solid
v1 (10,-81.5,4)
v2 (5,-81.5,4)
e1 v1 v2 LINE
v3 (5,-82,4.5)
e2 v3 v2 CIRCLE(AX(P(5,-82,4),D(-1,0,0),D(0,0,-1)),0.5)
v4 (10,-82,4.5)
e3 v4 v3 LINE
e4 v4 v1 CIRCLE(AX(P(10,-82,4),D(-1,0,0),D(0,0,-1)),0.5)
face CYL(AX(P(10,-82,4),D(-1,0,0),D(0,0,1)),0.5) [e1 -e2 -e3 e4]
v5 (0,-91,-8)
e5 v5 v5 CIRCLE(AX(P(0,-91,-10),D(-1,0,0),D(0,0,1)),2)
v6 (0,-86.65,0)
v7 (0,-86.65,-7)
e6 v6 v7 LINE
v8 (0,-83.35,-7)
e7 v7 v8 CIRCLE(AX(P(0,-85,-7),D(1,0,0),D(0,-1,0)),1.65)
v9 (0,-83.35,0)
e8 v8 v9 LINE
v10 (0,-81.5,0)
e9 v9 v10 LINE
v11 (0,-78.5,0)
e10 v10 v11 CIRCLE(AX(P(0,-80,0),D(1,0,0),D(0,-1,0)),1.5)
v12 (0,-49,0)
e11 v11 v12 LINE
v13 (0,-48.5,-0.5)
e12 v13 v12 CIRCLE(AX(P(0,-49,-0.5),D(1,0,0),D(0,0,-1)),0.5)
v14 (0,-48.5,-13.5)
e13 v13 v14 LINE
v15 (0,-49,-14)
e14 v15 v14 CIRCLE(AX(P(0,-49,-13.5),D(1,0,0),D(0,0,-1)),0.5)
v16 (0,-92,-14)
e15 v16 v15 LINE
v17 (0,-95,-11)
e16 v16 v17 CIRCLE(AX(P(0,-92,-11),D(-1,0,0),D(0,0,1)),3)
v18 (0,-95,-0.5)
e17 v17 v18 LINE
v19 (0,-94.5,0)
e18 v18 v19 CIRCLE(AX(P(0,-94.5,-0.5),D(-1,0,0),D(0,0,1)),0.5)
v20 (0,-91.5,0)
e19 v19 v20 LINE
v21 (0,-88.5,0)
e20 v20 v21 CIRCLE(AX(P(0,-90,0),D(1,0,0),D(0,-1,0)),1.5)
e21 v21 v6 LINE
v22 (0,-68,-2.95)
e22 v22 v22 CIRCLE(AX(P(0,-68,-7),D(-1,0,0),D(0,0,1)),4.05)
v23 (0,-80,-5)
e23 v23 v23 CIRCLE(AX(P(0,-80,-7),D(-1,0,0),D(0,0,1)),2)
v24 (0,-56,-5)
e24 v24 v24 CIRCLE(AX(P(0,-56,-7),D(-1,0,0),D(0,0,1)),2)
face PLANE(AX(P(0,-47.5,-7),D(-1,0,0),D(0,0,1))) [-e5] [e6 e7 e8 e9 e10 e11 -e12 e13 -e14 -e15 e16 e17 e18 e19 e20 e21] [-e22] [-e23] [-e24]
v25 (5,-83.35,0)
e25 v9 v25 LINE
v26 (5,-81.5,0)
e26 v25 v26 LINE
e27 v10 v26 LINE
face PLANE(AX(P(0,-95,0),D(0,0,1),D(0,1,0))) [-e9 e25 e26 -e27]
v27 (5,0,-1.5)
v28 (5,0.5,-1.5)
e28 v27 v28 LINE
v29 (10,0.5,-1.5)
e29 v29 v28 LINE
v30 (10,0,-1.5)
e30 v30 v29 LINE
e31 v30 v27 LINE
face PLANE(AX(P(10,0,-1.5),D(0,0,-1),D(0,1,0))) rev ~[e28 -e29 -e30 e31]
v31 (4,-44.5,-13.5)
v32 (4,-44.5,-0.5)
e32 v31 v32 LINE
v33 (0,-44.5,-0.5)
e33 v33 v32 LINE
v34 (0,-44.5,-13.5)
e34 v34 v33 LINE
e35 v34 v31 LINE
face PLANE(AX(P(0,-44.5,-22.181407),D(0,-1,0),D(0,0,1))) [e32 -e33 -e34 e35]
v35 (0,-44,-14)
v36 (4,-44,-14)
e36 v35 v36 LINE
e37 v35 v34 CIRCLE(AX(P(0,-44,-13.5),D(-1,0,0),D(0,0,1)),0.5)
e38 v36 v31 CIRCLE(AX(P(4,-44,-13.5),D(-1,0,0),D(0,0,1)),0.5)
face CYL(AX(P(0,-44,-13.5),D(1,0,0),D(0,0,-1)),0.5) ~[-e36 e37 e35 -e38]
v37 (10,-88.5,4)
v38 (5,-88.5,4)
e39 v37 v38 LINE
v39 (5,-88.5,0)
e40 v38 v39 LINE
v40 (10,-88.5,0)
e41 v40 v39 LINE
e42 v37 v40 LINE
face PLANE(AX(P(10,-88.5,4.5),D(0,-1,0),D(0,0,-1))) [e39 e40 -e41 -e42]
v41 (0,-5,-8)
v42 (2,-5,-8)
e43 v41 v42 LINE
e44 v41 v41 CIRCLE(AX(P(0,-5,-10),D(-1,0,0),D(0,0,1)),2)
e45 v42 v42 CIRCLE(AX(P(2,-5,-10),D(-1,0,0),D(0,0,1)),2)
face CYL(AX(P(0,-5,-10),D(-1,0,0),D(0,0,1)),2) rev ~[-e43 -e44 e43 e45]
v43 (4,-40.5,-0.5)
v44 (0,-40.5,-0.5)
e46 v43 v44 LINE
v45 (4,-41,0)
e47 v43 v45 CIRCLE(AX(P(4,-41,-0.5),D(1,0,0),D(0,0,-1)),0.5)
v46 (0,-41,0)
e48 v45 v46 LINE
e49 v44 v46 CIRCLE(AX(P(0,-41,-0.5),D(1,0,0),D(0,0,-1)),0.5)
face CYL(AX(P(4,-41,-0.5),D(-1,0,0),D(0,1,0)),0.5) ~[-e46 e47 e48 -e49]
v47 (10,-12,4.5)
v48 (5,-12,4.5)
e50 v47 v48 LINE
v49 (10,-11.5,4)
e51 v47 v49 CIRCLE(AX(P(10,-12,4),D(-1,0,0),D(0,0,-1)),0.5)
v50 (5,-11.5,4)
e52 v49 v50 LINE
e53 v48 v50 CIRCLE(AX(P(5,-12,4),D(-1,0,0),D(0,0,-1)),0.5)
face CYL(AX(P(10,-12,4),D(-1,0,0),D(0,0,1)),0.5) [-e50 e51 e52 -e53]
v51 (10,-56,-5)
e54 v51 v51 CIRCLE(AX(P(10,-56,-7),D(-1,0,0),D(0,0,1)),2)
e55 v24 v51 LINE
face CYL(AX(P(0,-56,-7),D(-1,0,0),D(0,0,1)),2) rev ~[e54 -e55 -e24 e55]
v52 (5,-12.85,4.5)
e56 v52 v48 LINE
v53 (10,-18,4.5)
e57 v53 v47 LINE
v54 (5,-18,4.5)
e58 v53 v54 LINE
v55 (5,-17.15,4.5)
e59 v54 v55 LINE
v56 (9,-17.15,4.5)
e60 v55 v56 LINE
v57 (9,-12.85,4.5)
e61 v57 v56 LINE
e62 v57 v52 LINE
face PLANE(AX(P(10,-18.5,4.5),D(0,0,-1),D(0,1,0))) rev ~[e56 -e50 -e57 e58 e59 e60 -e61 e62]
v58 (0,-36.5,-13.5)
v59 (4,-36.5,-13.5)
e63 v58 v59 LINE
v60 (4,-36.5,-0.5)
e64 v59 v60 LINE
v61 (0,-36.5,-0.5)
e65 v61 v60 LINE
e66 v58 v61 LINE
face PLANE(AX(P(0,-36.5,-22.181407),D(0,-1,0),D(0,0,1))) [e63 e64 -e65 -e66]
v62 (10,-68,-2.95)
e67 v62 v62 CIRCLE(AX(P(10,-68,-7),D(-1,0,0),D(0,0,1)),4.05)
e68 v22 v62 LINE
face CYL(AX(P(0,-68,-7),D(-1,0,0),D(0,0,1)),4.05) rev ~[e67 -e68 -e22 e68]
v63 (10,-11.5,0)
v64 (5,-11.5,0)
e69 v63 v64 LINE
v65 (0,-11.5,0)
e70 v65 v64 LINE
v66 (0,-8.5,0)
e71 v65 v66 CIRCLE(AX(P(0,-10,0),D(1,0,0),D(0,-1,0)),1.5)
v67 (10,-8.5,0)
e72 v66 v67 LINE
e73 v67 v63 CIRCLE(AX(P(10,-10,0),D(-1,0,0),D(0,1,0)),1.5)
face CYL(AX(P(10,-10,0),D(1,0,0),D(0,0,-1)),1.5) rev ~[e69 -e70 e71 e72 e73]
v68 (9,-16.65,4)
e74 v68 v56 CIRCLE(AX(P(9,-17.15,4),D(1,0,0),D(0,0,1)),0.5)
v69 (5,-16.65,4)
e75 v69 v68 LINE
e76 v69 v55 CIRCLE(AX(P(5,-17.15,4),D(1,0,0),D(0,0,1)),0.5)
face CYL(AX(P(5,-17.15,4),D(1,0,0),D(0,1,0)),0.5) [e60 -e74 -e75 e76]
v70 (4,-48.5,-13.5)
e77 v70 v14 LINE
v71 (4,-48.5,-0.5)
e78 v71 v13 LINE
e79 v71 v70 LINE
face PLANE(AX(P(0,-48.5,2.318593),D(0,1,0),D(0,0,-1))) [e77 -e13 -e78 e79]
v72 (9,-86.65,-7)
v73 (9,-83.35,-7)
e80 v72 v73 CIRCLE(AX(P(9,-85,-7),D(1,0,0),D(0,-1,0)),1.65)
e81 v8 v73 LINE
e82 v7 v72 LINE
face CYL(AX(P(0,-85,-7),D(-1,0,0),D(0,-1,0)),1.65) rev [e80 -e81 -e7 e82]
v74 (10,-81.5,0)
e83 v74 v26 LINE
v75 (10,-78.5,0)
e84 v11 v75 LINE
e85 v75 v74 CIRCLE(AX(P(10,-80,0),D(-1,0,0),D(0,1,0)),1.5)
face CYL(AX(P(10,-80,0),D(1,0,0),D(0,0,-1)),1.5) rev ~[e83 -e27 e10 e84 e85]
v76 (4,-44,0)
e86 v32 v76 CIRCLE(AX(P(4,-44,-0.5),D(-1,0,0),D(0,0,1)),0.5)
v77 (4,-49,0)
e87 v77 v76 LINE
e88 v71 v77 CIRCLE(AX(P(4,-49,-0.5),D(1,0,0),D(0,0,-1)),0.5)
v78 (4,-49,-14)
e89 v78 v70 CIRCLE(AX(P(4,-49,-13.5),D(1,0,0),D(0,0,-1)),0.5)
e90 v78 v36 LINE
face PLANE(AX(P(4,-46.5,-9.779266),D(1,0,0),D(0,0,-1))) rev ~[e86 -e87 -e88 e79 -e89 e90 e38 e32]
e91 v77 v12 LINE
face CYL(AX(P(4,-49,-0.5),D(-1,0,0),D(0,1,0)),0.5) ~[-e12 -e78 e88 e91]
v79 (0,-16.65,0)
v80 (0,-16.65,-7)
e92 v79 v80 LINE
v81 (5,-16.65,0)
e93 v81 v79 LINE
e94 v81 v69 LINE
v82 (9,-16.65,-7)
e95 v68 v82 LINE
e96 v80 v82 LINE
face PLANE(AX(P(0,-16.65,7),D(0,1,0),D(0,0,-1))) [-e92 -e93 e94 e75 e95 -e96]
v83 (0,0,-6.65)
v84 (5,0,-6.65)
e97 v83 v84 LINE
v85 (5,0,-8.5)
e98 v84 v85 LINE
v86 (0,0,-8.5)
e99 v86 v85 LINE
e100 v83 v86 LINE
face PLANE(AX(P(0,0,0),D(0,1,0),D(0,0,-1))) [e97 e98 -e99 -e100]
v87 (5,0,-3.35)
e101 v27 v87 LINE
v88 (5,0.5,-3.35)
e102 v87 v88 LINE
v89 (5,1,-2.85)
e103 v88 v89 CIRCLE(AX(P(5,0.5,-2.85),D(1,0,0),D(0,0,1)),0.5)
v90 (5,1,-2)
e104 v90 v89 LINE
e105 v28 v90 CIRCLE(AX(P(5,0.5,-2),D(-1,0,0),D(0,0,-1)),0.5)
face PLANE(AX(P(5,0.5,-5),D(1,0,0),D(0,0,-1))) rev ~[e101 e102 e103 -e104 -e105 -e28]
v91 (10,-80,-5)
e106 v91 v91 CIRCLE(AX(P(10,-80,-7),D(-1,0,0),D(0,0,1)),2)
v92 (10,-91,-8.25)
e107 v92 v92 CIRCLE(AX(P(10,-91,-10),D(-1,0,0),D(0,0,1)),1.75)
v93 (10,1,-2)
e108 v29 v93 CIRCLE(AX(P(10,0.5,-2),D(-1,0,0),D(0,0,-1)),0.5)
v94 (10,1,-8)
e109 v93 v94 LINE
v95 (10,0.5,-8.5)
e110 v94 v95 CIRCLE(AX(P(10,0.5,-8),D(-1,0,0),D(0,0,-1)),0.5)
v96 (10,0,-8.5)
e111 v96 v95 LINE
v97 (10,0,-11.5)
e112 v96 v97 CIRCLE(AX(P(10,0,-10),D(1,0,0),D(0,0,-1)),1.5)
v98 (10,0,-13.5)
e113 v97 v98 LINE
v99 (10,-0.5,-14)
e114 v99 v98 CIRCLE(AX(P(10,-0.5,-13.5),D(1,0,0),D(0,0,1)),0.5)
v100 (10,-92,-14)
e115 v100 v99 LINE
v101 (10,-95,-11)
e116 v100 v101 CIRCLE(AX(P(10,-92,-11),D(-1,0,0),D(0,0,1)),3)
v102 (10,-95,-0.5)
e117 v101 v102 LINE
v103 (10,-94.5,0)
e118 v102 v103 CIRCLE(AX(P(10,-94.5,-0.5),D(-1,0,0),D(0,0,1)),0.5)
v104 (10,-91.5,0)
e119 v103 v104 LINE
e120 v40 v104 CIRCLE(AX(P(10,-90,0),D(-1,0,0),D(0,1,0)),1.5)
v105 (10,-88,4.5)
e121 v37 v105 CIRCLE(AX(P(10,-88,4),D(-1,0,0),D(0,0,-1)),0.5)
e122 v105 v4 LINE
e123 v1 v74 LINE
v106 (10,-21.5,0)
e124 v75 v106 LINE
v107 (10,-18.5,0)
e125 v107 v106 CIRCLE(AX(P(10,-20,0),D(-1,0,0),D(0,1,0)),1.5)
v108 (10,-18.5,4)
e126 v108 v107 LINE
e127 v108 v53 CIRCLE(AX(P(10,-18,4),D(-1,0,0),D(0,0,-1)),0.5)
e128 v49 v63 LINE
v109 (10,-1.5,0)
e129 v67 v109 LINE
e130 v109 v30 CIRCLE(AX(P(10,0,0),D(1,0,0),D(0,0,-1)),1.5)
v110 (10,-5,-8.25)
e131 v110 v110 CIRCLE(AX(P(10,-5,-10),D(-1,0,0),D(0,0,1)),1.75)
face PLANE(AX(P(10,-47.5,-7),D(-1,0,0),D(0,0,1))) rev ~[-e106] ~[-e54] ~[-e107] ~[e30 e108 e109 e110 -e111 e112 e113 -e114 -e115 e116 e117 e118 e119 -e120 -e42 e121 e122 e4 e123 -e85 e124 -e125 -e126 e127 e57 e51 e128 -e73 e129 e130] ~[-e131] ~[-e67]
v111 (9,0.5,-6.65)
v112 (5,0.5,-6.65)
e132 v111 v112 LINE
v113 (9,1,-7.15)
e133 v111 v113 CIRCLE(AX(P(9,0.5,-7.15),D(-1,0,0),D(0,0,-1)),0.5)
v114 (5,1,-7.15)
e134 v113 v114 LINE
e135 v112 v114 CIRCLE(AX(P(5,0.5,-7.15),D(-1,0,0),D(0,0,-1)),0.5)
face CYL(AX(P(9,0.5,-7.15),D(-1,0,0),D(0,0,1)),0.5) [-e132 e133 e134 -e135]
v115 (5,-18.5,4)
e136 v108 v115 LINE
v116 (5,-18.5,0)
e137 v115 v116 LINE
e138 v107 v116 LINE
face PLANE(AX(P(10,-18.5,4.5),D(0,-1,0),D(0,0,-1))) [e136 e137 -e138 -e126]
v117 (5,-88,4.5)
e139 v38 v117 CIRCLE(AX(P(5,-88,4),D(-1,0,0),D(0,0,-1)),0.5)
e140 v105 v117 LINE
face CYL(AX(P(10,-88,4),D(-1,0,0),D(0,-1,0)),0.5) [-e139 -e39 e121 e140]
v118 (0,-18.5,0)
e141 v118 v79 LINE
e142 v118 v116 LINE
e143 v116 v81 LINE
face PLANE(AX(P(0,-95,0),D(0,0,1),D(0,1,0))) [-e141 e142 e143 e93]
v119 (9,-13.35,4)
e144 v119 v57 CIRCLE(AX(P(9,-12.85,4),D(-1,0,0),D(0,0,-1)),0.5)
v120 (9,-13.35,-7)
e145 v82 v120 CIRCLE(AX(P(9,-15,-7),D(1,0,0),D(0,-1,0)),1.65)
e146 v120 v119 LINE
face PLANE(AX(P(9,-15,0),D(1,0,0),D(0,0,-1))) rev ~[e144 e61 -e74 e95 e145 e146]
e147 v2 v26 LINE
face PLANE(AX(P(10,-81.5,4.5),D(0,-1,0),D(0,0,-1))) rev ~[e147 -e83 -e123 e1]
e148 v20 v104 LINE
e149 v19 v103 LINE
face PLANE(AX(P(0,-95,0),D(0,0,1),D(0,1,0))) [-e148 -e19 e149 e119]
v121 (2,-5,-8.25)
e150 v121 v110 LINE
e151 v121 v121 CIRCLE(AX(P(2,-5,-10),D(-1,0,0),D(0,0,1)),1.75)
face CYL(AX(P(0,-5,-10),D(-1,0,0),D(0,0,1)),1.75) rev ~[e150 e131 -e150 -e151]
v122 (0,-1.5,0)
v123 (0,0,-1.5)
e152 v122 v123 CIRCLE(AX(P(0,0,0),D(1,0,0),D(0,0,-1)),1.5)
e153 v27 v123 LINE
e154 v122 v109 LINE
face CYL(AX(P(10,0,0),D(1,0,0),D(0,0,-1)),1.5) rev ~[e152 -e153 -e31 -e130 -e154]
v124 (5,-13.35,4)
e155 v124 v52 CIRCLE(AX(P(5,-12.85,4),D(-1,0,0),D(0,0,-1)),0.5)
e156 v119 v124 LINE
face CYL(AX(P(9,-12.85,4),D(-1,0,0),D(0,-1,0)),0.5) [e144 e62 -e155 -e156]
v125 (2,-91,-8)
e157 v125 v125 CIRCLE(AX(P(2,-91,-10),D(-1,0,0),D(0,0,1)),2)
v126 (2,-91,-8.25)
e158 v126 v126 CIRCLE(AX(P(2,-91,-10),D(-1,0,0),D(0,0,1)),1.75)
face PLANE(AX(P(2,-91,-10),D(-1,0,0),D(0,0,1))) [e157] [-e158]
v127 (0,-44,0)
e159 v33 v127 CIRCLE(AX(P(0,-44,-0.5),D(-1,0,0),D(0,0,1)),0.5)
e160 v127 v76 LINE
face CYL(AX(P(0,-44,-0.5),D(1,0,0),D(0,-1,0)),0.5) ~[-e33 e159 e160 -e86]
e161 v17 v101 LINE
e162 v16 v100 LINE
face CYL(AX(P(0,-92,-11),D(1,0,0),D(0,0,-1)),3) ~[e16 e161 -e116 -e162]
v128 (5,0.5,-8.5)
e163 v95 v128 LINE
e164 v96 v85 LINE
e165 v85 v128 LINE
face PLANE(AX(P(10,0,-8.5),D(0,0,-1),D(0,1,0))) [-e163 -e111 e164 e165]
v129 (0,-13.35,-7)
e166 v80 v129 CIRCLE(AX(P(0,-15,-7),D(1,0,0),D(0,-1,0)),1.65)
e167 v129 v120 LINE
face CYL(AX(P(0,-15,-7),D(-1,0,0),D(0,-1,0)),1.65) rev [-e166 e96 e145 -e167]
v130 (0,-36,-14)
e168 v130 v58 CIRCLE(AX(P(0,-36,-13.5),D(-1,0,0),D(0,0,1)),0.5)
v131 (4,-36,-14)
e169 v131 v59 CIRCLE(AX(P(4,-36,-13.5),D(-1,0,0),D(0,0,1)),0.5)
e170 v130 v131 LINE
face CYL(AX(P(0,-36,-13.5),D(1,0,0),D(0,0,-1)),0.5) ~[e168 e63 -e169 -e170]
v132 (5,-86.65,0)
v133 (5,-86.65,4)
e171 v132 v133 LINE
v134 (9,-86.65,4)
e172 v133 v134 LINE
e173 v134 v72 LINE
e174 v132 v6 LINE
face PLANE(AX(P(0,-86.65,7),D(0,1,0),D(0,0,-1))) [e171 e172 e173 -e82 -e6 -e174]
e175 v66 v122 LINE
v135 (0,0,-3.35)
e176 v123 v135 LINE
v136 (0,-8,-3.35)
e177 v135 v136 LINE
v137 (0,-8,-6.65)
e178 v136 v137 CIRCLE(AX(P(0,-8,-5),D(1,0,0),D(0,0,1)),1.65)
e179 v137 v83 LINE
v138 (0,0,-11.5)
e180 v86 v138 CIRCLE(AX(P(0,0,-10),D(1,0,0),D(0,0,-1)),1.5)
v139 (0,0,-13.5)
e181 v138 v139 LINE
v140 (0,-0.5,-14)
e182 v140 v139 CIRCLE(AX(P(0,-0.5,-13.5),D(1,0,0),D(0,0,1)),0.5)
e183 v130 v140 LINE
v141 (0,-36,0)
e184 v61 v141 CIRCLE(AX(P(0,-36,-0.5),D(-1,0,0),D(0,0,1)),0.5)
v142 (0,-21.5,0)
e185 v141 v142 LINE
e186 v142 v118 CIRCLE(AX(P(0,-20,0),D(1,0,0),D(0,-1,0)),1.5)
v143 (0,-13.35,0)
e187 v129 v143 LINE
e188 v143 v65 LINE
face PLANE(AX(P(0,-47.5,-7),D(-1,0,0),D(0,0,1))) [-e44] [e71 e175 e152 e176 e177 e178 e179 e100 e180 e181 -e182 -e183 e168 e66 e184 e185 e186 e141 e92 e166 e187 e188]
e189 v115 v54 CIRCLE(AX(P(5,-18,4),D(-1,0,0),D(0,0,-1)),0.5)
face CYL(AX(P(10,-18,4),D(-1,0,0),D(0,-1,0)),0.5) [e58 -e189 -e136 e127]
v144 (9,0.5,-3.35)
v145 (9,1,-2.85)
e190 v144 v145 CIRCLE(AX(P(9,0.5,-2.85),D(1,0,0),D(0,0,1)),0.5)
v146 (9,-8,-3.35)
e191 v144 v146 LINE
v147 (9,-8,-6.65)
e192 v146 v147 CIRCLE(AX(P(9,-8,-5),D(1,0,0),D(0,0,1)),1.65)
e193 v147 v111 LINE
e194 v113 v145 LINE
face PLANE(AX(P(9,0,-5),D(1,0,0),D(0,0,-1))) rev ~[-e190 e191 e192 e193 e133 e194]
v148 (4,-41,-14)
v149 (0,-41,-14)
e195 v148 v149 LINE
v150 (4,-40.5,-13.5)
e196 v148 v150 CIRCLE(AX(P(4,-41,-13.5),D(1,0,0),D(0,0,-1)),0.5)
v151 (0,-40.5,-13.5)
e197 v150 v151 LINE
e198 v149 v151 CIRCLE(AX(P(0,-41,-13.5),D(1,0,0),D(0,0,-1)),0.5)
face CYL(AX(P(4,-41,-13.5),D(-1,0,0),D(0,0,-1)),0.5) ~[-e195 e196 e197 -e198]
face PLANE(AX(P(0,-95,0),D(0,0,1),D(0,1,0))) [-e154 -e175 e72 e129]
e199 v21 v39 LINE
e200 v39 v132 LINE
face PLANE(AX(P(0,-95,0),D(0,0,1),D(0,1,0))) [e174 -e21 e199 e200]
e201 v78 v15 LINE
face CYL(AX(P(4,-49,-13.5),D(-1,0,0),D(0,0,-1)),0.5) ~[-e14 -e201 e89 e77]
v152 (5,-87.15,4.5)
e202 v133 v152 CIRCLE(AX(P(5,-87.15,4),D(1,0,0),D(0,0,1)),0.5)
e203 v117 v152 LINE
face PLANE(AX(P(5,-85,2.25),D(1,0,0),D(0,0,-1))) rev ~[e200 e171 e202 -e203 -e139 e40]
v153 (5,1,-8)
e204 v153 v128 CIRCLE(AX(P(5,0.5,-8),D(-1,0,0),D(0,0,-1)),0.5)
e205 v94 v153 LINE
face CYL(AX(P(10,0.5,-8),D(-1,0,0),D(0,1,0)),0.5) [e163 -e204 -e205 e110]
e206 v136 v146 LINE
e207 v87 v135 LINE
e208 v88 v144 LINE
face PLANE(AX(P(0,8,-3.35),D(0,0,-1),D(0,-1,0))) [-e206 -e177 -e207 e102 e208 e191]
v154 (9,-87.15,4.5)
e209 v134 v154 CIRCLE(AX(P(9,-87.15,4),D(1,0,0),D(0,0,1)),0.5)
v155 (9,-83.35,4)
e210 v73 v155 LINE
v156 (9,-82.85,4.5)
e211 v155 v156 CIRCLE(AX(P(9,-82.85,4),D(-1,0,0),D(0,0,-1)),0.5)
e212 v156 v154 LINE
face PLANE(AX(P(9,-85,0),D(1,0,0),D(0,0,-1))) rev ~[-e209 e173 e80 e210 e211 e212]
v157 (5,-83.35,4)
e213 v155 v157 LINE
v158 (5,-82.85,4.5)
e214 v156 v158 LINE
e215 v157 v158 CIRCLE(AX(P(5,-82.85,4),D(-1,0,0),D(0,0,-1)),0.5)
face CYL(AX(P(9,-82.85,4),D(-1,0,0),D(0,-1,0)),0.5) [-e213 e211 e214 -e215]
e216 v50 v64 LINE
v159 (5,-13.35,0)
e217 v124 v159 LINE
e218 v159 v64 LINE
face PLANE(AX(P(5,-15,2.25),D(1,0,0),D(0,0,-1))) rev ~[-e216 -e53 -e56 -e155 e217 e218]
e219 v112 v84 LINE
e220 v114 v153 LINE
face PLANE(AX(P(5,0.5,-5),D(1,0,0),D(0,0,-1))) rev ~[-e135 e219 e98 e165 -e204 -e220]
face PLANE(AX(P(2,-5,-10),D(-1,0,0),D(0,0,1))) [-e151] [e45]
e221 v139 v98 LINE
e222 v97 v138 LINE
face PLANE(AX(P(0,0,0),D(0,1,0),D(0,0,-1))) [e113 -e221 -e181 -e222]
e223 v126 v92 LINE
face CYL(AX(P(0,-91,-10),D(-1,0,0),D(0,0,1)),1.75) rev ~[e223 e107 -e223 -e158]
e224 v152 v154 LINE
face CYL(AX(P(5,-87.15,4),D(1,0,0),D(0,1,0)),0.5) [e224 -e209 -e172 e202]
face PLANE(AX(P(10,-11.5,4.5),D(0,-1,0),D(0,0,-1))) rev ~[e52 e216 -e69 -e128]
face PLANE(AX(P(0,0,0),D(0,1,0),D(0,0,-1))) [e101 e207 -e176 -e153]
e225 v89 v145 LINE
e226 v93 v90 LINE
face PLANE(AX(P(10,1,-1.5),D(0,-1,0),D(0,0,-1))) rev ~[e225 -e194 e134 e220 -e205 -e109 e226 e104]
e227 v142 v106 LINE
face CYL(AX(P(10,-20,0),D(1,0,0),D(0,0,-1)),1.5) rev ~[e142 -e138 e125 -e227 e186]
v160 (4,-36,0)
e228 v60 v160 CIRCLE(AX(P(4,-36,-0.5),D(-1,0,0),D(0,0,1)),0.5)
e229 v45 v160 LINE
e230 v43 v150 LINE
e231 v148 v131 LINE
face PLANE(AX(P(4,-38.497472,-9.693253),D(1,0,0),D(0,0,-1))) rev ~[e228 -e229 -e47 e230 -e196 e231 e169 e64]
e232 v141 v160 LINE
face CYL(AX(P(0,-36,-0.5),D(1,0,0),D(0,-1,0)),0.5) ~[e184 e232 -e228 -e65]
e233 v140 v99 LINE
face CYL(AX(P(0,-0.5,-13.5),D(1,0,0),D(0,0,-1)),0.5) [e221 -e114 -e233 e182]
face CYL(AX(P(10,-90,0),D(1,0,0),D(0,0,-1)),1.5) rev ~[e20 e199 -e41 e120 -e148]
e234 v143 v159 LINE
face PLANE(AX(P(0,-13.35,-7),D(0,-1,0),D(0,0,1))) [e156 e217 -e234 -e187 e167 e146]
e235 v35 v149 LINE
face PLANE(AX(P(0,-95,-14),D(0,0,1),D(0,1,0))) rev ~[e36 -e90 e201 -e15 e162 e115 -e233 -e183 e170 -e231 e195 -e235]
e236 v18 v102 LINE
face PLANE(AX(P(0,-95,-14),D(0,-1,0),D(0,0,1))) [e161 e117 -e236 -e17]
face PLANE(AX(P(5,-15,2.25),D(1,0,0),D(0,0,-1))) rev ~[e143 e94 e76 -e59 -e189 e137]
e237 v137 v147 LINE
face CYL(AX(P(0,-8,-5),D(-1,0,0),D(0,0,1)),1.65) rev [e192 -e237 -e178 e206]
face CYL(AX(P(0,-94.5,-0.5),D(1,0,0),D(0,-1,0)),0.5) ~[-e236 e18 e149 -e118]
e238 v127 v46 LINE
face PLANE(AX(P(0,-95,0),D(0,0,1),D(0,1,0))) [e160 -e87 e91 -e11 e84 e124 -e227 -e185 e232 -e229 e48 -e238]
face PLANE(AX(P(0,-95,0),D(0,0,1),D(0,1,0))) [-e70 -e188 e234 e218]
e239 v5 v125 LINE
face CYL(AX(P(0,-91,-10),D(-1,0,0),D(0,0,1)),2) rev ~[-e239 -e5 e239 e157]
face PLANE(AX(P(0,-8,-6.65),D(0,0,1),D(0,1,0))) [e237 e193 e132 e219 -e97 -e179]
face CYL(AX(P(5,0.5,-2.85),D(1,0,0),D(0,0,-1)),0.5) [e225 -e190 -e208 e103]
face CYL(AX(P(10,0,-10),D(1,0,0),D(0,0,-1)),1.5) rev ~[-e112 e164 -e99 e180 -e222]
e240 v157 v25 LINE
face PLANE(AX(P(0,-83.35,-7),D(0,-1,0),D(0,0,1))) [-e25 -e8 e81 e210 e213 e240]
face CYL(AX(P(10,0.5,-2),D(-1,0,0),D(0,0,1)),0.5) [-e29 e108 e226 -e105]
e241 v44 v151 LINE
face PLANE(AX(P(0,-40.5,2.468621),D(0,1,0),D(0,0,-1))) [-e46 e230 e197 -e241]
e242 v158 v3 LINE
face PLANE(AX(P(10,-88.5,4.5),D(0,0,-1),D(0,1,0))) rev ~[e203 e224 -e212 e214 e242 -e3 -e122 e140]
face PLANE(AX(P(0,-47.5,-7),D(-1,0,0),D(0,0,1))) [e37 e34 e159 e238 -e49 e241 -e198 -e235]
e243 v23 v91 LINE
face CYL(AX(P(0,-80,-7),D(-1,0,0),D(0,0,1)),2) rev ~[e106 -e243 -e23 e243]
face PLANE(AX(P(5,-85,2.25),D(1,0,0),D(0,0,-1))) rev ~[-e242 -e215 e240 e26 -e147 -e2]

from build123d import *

# Parameters (mm, degrees)
BOSS_EXTRUDE3_DEPTH = 10
SKETCH19_R          = 2
SKETCH19_R_2        = 4.05
CUT_EXTRUDE13_DEPTH = 97.545326143
SKETCH24_R          = 1.75
CUT_EXTRUDE17_DEPTH = 10
SKETCH30_W          = 4.5
SKETCH30_H          = 7
SKETCH30_W_2        = 7
SKETCH30_H_2        = 1
BOSS_EXTRUDE4_DEPTH = 5
CUT_EXTRUDE19_DEPTH = 9
CUT_EXTRUDE21_DEPTH = 4
SKETCH31_R          = 1.5
CUT_EXTRUDE24_DEPTH = 97.545326143
SKETCH29_R          = 2
CUT_EXTRUDE23_DEPTH = 2
FILLET2_R           = 0.5
FILLET1_R           = 3


with BuildPart() as part:
    # Sketch17 → Boss-Extrude3 (new body)
    with BuildSketch(Plane(origin=(0, 0, 0), x_dir=(0, 0, -1), z_dir=(1, 0, 0))):
        Polygon((14, -60), (14, -95), (0, -95), (0, 0), (14, 0), (14, -45), align=None)
    extrude(amount=BOSS_EXTRUDE3_DEPTH)

    # Sketch19 → Cut-Extrude13 (cut, through all)
    with BuildSketch(Plane.ZY):
        with Locations((-7, -56)):
            Circle(SKETCH19_R)
        with Locations((-7, -68)):
            Circle(SKETCH19_R_2)
        with Locations((-7, -80)):
            Circle(SKETCH19_R)
    extrude(amount=-CUT_EXTRUDE13_DEPTH, mode=Mode.SUBTRACT)

    # Sketch24 → Cut-Extrude17 (cut)
    with BuildSketch(Plane.ZY):
        with Locations((-10, -5)):
            Circle(SKETCH24_R)
        with Locations((-10, -91)):
            Circle(SKETCH24_R)
    extrude(amount=-CUT_EXTRUDE17_DEPTH, mode=Mode.SUBTRACT)

    # Sketch30 → Boss-Extrude4 (add)
    with BuildSketch(Plane(origin=(10, 0, 0), x_dir=(0, 0, -1), z_dir=(1, 0, 0))):
        with Locations((-2.25, -15)):
            Rectangle(SKETCH30_W, SKETCH30_H)
        with Locations((-2.25, -85)):
            Rectangle(SKETCH30_W, SKETCH30_H)
        with Locations((5, 0.5)):
            Rectangle(SKETCH30_W_2, SKETCH30_H_2)
    extrude(amount=-BOSS_EXTRUDE4_DEPTH)

    # Sketch26 → Cut-Extrude19 (cut)
    with BuildSketch(Plane.ZY):
        with BuildLine():
            Line((-7, -13.35), (7, -13.35))
            ThreePointArc((7, -13.35), (8.65, -15), (7, -16.65))
            Line((7, -16.65), (-7, -16.65))
            ThreePointArc((-7, -16.65), (-8.65, -15), (-7, -13.35))
        make_face()
        with BuildLine():
            Line((-7, -83.35), (7, -83.35))
            ThreePointArc((7, -83.35), (8.65, -85), (7, -86.65))
            Line((7, -86.65), (-7, -86.65))
            ThreePointArc((-7, -86.65), (-8.65, -85), (-7, -83.35))
        make_face()
        with BuildLine():
            Line((-3.35, 8), (-3.35, -8))
            ThreePointArc((-3.35, -8), (-5, -9.65), (-6.65, -8))
            Line((-6.65, -8), (-6.65, 8))
            ThreePointArc((-6.65, 8), (-5, 9.65), (-3.35, 8))
        make_face()
    extrude(amount=-CUT_EXTRUDE19_DEPTH, mode=Mode.SUBTRACT)

    # Sketch27 → Cut-Extrude21 (cut)
    with BuildSketch(Plane.ZY):
        with BuildLine():
            Line((-22.181406925, -44.5), (2.318593075, -44.5))
            ThreePointArc((2.318593075, -44.5), (2.672146466, -44.646446609), (2.818593075, -45))
            Line((2.818593075, -45), (2.818593075, -48))
            ThreePointArc((2.818593075, -48), (2.672146466, -48.353553391), (2.318593075, -48.5))
            Line((2.318593075, -48.5), (-22.181406925, -48.5))
            Line((-22.181406925, -48.5), (-22.181406925, -44.5))
        make_face()
        with BuildLine():
            Line((-22.181406925, -36.5), (2.74769439, -36.5))
            ThreePointArc((2.74769439, -36.5), (2.783233621, -36.501264636), (2.818593075, -36.505052148))
            Line((2.818593075, -36.505052148), (2.818593075, -39.642901183))
            ThreePointArc((2.818593075, -39.642901183), (2.931519183, -40.189011364), (2.468621026, -40.5))
            Line((2.468621026, -40.5), (-22.181406925, -40.5))
            Line((-22.181406925, -40.5), (-22.181406925, -36.5))
        make_face()
    extrude(amount=-CUT_EXTRUDE21_DEPTH, mode=Mode.SUBTRACT)

    # Sketch31 → Cut-Extrude24 (cut, through all)
    with BuildSketch(Plane(origin=(10, 0, 0), x_dir=(0, 0, -1), z_dir=(1, 0, 0))):
        with Locations((0, -90)):
            Circle(SKETCH31_R)
        with Locations((0, -80)):
            Circle(SKETCH31_R)
        with Locations((0, -20)):
            Circle(SKETCH31_R)
        with Locations((0, -10)):
            Circle(SKETCH31_R)
        with Locations((10, 0)):
            Circle(SKETCH31_R)
        Circle(SKETCH31_R)
    extrude(amount=-CUT_EXTRUDE24_DEPTH, mode=Mode.SUBTRACT)

    # Sketch29 → Cut-Extrude23 (cut)
    with BuildSketch(Plane.ZY):
        with Locations((-10, -5)):
            Circle(SKETCH29_R)
        with Locations((-10, -91)):
            Circle(SKETCH29_R)
    extrude(amount=-CUT_EXTRUDE23_DEPTH, mode=Mode.SUBTRACT)

    # Fillet2
    fillet2_edges = [part.edges().sort_by_distance(p)[0] for p in [
        (2, -48.5, -14),
        (2, -44.5, -14),
        (2, -48.5, 0),
        (2, -44.5, 0),
        (5, 0, -14),
        (5, -95, 0),
        (2, -36.5, -14),
        (2, -40.5, -14),
        (2, -36.5, 0),
        (2, -40.5, 0),
        (7.5, 1, -8.5),
        (7, 1, -6.65),
        (7, 1, -3.35),
        (7.5, 1, -1.5),
        (7.5, -81.5, 4.5),
        (7, -83.35, 4.5),
        (7, -86.65, 4.5),
        (7.5, -88.5, 4.5),
        (7.5, -11.5, 4.5),
        (7.5, -18.5, 4.5),
        (7, -13.35, 4.5),
        (7, -16.65, 4.5),
    ]]
    fillet(fillet2_edges, radius=FILLET2_R)

    # Fillet1
    fillet1_edges = [part.edges().sort_by_distance(p)[0] for p in [
        (5, -95, -14),
    ]]
    fillet(fillet1_edges, radius=FILLET1_R)


solid = part.part
